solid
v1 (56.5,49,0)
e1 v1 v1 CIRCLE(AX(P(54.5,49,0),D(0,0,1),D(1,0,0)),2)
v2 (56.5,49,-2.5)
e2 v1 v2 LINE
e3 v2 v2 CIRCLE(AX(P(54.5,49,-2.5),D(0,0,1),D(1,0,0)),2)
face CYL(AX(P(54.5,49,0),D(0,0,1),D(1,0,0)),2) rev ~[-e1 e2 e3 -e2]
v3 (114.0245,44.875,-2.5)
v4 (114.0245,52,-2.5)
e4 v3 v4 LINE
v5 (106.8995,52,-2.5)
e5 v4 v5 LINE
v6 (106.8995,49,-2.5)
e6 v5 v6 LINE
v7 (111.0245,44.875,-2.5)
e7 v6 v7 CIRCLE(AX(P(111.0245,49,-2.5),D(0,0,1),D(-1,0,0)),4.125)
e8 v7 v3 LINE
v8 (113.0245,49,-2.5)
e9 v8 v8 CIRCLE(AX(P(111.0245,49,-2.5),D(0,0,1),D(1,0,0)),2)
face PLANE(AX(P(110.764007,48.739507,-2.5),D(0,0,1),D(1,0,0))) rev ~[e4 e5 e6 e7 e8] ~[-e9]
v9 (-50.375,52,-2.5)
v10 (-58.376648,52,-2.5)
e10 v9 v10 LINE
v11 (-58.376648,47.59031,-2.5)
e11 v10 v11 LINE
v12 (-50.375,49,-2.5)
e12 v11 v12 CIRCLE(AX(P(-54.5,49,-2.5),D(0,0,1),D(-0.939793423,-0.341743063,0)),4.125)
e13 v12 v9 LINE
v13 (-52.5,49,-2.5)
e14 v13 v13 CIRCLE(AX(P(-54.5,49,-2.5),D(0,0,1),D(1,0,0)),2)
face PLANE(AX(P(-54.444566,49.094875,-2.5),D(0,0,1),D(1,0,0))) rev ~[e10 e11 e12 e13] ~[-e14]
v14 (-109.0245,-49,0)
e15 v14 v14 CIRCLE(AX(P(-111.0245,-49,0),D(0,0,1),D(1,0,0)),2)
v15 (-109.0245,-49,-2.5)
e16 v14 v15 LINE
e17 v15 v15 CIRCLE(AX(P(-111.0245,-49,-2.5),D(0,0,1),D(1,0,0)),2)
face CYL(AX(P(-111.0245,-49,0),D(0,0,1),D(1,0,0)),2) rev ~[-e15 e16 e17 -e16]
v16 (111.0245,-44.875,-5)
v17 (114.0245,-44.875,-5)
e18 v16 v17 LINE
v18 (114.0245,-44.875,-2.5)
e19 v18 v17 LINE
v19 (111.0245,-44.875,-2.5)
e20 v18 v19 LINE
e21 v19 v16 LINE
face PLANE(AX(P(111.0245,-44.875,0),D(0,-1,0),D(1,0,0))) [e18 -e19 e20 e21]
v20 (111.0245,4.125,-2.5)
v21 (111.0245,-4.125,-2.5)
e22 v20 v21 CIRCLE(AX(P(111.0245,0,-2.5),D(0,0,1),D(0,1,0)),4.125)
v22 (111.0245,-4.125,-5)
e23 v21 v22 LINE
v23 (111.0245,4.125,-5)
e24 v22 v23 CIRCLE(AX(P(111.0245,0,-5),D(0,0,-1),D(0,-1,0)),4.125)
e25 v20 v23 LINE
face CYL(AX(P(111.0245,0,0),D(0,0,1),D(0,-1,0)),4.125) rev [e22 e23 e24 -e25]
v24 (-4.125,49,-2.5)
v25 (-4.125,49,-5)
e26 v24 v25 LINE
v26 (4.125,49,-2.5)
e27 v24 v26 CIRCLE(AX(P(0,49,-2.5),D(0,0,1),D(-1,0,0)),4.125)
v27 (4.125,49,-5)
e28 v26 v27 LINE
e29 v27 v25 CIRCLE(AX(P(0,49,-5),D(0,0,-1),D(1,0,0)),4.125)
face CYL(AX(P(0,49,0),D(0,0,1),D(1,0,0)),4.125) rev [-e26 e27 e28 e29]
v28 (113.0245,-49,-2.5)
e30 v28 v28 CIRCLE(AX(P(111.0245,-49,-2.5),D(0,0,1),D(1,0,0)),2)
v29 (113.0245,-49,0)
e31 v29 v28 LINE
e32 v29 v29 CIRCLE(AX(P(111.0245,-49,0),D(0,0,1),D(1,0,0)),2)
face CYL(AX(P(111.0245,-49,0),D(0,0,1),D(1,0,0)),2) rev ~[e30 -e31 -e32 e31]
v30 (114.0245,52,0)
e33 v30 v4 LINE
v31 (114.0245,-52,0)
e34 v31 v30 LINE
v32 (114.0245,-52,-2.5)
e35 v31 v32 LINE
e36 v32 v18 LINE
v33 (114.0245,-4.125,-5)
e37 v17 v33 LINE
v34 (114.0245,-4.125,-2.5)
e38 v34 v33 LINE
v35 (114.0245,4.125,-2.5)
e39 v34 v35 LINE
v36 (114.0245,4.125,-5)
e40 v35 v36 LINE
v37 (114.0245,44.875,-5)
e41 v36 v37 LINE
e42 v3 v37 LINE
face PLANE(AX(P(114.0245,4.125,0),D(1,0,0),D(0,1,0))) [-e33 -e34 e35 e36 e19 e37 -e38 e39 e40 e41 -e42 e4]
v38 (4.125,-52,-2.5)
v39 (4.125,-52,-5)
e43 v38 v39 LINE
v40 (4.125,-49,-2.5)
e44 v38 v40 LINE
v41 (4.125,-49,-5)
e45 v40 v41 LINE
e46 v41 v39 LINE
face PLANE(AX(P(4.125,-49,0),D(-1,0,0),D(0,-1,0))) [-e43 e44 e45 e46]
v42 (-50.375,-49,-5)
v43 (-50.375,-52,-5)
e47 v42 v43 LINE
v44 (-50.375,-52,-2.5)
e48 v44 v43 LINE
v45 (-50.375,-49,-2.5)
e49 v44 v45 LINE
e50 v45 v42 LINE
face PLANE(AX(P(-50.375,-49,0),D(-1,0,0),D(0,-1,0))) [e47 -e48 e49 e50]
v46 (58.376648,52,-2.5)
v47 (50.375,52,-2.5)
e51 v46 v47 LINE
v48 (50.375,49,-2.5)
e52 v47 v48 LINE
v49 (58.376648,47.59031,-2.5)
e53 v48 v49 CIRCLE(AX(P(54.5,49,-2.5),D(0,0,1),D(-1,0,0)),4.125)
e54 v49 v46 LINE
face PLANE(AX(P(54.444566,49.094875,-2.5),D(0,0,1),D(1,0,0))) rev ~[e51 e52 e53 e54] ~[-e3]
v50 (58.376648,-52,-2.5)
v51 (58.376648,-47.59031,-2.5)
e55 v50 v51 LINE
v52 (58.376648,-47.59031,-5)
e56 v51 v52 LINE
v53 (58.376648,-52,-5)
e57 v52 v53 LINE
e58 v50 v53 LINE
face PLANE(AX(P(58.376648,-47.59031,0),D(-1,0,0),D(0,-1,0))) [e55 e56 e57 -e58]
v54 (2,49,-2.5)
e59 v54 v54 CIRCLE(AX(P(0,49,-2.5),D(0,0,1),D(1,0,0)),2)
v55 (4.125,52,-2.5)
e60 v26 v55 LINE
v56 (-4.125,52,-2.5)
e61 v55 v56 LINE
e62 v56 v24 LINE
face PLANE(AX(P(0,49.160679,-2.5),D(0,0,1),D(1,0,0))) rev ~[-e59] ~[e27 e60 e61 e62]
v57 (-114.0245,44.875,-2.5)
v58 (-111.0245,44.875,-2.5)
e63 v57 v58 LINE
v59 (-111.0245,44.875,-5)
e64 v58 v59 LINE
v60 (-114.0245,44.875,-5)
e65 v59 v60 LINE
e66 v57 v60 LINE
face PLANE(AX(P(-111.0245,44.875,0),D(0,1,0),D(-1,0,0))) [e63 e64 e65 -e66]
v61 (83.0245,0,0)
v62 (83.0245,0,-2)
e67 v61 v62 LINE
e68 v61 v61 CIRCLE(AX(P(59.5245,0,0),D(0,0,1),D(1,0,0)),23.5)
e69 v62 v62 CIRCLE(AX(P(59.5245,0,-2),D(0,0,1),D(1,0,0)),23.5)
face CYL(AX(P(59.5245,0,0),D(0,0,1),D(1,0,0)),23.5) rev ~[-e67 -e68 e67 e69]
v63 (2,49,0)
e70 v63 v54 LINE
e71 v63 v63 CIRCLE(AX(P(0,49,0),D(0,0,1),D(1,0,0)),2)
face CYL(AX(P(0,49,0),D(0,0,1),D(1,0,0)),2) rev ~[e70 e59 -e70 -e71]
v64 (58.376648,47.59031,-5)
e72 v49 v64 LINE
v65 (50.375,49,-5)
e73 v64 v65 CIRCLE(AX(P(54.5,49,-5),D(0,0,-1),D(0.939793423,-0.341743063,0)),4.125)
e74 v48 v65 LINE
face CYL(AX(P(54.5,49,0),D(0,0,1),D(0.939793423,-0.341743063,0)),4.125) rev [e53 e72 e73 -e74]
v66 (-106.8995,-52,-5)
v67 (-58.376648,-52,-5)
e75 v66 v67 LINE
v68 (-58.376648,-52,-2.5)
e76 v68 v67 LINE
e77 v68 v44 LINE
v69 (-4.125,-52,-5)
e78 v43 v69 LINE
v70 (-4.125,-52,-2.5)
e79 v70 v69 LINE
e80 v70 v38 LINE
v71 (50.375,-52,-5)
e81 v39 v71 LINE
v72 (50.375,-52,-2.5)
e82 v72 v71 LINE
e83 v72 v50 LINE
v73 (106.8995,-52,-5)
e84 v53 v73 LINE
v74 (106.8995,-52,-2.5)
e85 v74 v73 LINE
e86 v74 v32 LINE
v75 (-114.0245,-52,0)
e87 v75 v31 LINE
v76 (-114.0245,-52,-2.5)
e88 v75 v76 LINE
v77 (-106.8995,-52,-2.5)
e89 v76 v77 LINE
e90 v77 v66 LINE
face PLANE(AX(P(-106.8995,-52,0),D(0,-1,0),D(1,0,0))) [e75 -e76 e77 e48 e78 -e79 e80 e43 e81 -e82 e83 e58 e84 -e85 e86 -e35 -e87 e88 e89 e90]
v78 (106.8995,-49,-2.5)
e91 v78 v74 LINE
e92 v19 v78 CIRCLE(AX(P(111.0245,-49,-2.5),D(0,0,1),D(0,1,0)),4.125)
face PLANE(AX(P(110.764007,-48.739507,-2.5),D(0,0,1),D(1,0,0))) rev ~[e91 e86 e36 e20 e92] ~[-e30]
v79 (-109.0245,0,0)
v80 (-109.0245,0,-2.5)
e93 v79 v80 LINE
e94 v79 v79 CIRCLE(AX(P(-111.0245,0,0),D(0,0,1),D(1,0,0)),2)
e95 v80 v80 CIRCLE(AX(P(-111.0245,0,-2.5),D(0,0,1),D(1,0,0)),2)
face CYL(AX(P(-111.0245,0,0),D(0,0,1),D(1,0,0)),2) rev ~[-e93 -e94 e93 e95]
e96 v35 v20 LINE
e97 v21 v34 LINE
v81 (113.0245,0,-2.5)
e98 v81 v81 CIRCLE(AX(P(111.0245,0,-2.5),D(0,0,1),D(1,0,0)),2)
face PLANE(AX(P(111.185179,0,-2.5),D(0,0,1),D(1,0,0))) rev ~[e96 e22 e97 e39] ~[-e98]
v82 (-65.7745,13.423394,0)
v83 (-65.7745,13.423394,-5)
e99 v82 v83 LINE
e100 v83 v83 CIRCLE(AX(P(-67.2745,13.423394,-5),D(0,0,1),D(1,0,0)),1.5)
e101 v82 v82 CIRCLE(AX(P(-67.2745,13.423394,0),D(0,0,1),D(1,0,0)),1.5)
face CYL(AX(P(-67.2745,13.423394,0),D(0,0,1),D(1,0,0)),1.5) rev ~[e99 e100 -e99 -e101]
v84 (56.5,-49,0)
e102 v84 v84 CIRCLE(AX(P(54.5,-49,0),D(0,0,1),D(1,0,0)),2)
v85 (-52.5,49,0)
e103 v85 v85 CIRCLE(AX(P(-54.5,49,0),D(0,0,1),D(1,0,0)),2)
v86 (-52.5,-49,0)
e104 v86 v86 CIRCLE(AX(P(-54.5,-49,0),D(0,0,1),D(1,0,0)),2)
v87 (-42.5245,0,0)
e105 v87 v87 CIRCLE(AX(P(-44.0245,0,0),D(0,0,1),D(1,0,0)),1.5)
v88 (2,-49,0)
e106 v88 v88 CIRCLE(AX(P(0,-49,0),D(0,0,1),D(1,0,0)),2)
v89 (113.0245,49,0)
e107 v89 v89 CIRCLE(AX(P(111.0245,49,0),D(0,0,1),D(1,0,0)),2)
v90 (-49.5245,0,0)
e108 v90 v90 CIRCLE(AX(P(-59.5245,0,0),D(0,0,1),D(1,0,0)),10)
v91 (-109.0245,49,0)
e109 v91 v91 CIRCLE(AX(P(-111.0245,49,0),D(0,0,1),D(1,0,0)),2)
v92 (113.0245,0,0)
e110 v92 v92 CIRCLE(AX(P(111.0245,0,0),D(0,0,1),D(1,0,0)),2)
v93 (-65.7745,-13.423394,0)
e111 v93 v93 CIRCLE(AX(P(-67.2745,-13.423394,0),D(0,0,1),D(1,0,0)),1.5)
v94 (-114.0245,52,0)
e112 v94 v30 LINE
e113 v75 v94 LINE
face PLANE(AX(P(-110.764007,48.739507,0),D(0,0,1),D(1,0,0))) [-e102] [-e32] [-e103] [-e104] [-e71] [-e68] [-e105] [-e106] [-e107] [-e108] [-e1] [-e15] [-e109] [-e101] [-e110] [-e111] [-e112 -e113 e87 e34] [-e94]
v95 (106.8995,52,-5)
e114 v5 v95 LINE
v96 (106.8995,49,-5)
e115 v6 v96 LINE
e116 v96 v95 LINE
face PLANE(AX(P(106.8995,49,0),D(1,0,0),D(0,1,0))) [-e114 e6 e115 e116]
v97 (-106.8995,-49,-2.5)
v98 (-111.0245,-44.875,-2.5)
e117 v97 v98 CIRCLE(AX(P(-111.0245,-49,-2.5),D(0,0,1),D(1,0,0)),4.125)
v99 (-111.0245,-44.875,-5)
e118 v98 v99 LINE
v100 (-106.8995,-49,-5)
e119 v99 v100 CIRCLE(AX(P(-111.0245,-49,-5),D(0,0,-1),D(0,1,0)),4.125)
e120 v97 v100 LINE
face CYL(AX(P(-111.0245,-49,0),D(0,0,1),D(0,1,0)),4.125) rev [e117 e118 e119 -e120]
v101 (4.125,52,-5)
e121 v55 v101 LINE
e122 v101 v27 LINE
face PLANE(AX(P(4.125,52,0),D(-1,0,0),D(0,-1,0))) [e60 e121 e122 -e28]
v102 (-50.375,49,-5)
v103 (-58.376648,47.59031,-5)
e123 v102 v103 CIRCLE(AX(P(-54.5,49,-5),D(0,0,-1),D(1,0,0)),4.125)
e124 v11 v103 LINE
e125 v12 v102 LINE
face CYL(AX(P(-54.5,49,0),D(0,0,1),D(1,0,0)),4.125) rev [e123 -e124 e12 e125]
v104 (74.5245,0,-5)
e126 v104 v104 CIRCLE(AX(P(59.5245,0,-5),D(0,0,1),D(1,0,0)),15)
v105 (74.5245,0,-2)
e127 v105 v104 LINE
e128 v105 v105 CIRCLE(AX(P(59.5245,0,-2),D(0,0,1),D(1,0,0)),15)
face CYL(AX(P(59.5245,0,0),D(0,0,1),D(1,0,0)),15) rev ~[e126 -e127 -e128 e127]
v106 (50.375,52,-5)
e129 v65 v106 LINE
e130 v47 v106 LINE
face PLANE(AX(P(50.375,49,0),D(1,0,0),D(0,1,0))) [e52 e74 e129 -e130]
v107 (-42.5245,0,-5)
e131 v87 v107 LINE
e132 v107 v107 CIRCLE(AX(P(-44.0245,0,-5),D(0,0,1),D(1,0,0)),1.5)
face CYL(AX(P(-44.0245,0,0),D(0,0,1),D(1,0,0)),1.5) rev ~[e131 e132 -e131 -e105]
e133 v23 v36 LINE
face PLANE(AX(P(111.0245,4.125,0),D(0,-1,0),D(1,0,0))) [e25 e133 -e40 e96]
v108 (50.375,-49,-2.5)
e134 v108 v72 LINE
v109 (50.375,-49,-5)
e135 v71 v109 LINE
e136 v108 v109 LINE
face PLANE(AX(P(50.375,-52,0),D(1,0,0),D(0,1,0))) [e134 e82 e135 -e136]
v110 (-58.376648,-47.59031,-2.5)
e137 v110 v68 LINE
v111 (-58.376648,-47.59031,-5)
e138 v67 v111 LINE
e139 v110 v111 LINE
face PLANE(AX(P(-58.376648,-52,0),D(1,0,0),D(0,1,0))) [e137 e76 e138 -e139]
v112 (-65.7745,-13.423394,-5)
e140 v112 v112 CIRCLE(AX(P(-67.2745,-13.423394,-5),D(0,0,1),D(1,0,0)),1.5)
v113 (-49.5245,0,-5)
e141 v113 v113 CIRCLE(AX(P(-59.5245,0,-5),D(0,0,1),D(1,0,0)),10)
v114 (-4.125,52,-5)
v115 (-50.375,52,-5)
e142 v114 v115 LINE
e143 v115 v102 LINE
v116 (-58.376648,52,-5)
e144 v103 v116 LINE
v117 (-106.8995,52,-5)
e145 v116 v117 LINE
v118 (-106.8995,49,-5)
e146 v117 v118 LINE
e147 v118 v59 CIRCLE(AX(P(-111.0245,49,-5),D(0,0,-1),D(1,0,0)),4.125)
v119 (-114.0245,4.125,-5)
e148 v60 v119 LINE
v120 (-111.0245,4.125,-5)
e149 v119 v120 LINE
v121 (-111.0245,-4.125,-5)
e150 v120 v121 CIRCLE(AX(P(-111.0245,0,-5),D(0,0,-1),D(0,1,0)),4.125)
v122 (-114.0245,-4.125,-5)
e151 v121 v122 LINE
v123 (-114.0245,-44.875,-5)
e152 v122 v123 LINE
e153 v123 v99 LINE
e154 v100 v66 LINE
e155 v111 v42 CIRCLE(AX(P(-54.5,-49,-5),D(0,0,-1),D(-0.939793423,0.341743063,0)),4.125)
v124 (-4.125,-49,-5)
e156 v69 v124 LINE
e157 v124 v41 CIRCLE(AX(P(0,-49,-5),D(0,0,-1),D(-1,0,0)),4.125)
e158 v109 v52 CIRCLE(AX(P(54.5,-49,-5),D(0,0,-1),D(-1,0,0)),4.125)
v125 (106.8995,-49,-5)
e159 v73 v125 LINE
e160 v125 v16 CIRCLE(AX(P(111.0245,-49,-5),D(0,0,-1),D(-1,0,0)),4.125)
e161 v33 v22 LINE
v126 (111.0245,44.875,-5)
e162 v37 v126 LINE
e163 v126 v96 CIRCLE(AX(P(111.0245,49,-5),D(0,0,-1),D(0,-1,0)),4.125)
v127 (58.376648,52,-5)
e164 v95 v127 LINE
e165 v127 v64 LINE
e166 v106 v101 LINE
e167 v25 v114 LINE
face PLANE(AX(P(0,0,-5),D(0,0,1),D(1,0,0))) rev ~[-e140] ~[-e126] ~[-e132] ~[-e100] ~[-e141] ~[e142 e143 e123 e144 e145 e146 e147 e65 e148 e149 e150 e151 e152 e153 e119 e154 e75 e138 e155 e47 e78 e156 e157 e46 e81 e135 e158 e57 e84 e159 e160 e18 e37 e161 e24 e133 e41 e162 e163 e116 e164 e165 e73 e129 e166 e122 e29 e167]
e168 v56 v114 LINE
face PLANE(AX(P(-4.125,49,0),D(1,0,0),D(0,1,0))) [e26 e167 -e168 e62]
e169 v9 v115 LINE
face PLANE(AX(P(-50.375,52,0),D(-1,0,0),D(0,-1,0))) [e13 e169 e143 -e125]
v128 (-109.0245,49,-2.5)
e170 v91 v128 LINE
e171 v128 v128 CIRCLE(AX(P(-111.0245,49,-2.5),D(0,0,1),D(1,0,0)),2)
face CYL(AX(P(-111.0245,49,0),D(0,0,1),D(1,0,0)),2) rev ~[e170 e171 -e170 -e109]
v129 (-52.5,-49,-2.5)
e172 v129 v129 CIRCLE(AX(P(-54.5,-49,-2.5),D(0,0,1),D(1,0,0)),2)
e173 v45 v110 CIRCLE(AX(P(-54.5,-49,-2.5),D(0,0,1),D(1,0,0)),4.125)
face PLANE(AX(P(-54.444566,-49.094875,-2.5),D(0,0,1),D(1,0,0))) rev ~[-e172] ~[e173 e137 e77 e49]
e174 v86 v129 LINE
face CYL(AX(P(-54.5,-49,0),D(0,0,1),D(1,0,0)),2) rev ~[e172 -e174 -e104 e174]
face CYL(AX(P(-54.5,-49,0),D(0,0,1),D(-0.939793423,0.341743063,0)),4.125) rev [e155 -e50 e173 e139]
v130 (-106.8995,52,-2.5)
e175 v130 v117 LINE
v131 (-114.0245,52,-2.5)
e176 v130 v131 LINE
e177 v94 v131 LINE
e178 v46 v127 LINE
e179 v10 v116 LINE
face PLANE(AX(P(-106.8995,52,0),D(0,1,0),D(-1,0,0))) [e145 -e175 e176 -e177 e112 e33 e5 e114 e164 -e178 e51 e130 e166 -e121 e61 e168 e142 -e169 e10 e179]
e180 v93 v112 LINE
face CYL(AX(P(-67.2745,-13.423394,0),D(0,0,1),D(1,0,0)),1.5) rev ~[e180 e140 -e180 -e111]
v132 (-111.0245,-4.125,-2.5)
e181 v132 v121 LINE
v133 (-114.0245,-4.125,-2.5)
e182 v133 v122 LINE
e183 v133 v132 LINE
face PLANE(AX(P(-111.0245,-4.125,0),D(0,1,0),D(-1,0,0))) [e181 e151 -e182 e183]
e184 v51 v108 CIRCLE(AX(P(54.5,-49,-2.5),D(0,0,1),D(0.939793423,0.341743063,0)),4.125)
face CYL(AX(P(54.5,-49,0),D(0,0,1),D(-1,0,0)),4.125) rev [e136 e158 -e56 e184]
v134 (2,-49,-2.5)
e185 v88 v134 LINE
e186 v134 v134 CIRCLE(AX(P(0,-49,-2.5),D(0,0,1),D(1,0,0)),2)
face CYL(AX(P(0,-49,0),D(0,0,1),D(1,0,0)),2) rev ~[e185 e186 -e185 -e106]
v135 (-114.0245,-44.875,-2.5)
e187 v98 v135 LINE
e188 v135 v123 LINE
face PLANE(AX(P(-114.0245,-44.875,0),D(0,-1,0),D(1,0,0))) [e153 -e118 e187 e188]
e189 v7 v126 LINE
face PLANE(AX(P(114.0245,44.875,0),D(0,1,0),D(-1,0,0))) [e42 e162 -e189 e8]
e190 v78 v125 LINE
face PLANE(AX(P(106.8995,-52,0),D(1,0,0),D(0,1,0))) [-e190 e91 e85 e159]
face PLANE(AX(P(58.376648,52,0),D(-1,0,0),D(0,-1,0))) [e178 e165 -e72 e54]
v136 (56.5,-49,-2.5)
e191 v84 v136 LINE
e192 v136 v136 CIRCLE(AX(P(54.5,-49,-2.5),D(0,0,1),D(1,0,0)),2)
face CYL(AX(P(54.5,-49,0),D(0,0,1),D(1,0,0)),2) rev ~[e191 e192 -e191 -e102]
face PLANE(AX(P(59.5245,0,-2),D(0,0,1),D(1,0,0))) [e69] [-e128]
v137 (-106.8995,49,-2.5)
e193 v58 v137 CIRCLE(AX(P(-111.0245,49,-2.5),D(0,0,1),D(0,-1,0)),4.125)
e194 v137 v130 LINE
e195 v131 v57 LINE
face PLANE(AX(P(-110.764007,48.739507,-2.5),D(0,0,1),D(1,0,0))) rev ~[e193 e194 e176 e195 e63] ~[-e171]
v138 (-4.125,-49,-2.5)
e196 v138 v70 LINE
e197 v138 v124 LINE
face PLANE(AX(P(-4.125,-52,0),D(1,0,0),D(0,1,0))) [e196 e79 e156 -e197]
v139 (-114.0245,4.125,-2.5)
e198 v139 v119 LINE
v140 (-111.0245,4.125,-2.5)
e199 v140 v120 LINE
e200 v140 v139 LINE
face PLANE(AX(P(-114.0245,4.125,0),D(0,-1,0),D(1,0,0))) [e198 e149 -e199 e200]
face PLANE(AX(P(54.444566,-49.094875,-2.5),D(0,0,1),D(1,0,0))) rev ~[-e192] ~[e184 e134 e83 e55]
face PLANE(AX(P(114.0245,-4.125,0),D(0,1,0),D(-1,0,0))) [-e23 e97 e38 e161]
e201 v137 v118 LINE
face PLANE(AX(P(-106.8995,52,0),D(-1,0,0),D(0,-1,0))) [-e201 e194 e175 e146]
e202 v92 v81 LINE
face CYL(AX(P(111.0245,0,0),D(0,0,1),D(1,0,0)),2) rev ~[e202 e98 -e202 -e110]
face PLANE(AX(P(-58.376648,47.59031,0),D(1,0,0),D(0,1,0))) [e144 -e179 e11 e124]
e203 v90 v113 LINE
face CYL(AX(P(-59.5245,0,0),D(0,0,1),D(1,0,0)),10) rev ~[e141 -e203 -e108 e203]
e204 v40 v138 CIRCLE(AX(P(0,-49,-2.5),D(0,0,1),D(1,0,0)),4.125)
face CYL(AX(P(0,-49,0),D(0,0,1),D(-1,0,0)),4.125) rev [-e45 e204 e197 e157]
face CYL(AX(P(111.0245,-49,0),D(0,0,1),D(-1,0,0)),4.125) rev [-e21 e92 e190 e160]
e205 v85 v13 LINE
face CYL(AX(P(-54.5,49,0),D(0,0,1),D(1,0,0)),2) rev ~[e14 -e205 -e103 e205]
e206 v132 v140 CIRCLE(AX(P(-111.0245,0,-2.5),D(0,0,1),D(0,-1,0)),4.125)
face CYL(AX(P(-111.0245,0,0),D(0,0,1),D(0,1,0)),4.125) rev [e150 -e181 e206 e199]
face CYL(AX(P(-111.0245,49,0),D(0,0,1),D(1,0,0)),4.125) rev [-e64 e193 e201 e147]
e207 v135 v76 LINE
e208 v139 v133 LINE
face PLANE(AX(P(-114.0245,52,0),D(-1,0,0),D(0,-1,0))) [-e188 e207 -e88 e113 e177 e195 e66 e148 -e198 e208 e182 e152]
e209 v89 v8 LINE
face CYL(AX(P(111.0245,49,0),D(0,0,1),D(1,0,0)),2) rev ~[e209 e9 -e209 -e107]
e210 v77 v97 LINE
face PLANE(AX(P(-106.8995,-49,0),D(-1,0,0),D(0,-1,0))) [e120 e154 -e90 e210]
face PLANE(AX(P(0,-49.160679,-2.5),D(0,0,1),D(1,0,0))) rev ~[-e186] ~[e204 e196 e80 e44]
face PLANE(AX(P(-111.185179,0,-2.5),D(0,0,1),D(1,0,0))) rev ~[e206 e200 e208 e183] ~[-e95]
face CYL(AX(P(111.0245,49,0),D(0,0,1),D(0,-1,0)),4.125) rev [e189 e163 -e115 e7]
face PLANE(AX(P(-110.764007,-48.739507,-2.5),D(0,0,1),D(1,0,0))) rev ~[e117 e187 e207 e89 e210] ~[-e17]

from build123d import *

# Parameters (mm, degrees)
F0_R     = 1.5
F0_R_2   = 13.65
F0_R_3   = 23.5
F0_R_4   = 15
F0_R_5   = 10
F1_DEPTH = 5
F2_DEPTH = 2
F0_R_6   = 2
F3_DEPTH = 2.5


with BuildPart() as f1:
    # F0 (on Top) → F1 (new body)
    with BuildSketch(Plane.XY):
        with BuildLine():
            Line((-58.3766478719, 52), (-106.8995, 52))
            Line((-106.8995, 52), (-106.8995, 49))
            ThreePointArc((-106.8995, 49), (-108.1076845276, 46.0831845276), (-111.0245, 44.875))
            Line((-111.0245, 44.875), (-114.0245, 44.875))
            Line((-114.0245, 44.875), (-114.0245, 4.125))
            Line((-114.0245, 4.125), (-111.0245, 4.125))
            ThreePointArc((-111.0245, 4.125), (-106.8995, 0), (-111.0245, -4.125))
            Line((-111.0245, -4.125), (-114.0245, -4.125))
            Line((-114.0245, -4.125), (-114.0245, -44.875))
            Line((-114.0245, -44.875), (-111.0245, -44.875))
            ThreePointArc((-111.0245, -44.875), (-108.1076845276, -46.0831845276), (-106.8995, -49))
            Line((-106.8995, -49), (-106.8995, -52))
            Line((-106.8995, -52), (-58.3766478719, -52))
            Line((-58.3766478719, -52), (-58.3766478719, -47.5903098648))
            ThreePointArc((-58.3766478719, -47.5903098648), (-53.7843001577, -44.9375624638), (-50.375, -49))
            Line((-50.375, -49), (-50.375, -52))
            Line((-50.375, -52), (-4.125, -52))
            Line((-4.125, -52), (-4.125, -49))
            ThreePointArc((-4.125, -49), (0, -44.875), (4.125, -49))
            Line((4.125, -49), (4.125, -52))
            Line((4.125, -52), (50.375, -52))
            Line((50.375, -52), (50.375, -49))
            ThreePointArc((50.375, -49), (53.7843001577, -44.9375624638), (58.3766478719, -47.5903098648))
            Line((58.3766478719, -47.5903098648), (58.3766478719, -52))
            Line((58.3766478719, -52), (106.8995, -52))
            Line((106.8995, -52), (106.8995, -49))
            ThreePointArc((106.8995, -49), (108.1076845276, -46.0831845276), (111.0245, -44.875))
            Line((111.0245, -44.875), (114.0245, -44.875))
            Line((114.0245, -44.875), (114.0245, -4.125))
            Line((114.0245, -4.125), (111.0245, -4.125))
            ThreePointArc((111.0245, -4.125), (106.8995, 0), (111.0245, 4.125))
            Line((111.0245, 4.125), (114.0245, 4.125))
            Line((114.0245, 4.125), (114.0245, 44.875))
            Line((114.0245, 44.875), (111.0245, 44.875))
            ThreePointArc((111.0245, 44.875), (108.1076845276, 46.0831845276), (106.8995, 49))
            Line((106.8995, 49), (106.8995, 52))
            Line((106.8995, 52), (58.3766478719, 52))
            Line((58.3766478719, 52), (58.3766478719, 47.5903098648))
            ThreePointArc((58.3766478719, 47.5903098648), (53.7843001577, 44.9375624638), (50.375, 49))
            Line((50.375, 49), (50.375, 52))
            Line((50.375, 52), (4.125, 52))
            Line((4.125, 52), (4.125, 49))
            ThreePointArc((4.125, 49), (0, 44.875), (-4.125, 49))
            Line((-4.125, 49), (-4.125, 52))
            Line((-4.125, 52), (-50.375, 52))
            Line((-50.375, 52), (-50.375, 49))
            ThreePointArc((-50.375, 49), (-53.7843001577, 44.9375624638), (-58.3766478719, 47.5903098648))
            Line((-58.3766478719, 47.5903098648), (-58.3766478719, 52))
        make_face()
        with Locations((-67.2745, -13.4233937587)):
            Circle(F0_R, mode=Mode.SUBTRACT)
        with Locations((-59.5245, 0)):
            Circle(F0_R_2, mode=Mode.SUBTRACT)
        with Locations((-67.2745, 13.4233937587)):
            Circle(F0_R, mode=Mode.SUBTRACT)
        with Locations((-44.0245, 0)):
            Circle(F0_R, mode=Mode.SUBTRACT)
        with Locations((59.5245, 0)):
            Circle(F0_R_3, mode=Mode.SUBTRACT)
        with Locations((59.5245, 0)):
            Circle(F0_R_3)
        with Locations((59.5245, 0)):
            Circle(F0_R_4, mode=Mode.SUBTRACT)
        with Locations((-59.5245, 0)):
            Circle(F0_R_2)
        with Locations((-59.5245, 0)):
            Circle(F0_R_5, mode=Mode.SUBTRACT)
    extrude(amount=-F1_DEPTH)

    # F0 (on Top) → F2 (cut)
    with BuildSketch(Plane.XY):
        with Locations((59.5245, 0)):
            Circle(F0_R_3)
        with Locations((59.5245, 0)):
            Circle(F0_R_4, mode=Mode.SUBTRACT)
    extrude(amount=-F2_DEPTH, mode=Mode.SUBTRACT)

    # F0 (on Top) → F3 (join)
    with BuildSketch(Plane.XY):
        with BuildLine():
            Line((-106.8995, 52), (-114.0245, 52))
            Line((-114.0245, 52), (-114.0245, 44.875))
            Line((-114.0245, 44.875), (-111.0245, 44.875))
            ThreePointArc((-111.0245, 44.875), (-108.1076845276, 46.0831845276), (-106.8995, 49))
            Line((-106.8995, 49), (-106.8995, 52))
        make_face()
        with Locations((-111.0245, 49)):
            Circle(F0_R_6, mode=Mode.SUBTRACT)
        with BuildLine():
            Line((-111.0245, 4.125), (-114.0245, 4.125))
            Line((-114.0245, 4.125), (-114.0245, -4.125))
            Line((-114.0245, -4.125), (-111.0245, -4.125))
            ThreePointArc((-111.0245, -4.125), (-106.8995, 0), (-111.0245, 4.125))
        make_face()
        with Locations((-111.0245, 0)):
            Circle(F0_R_6, mode=Mode.SUBTRACT)
        with BuildLine():
            Line((-111.0245, -44.875), (-114.0245, -44.875))
            Line((-114.0245, -44.875), (-114.0245, -52))
            Line((-114.0245, -52), (-106.8995, -52))
            Line((-106.8995, -52), (-106.8995, -49))
            ThreePointArc((-106.8995, -49), (-108.1076845276, -46.0831845276), (-111.0245, -44.875))
        make_face()
        with Locations((-111.0245, -49)):
            Circle(F0_R_6, mode=Mode.SUBTRACT)
        with BuildLine():
            Line((-58.3766478719, -47.5903098648), (-58.3766478719, -52))
            Line((-58.3766478719, -52), (-50.375, -52))
            Line((-50.375, -52), (-50.375, -49))
            ThreePointArc((-50.375, -49), (-53.7843001577, -44.9375624638), (-58.3766478719, -47.5903098648))
        make_face()
        with Locations((-54.5, -49)):
            Circle(F0_R_6, mode=Mode.SUBTRACT)
        with BuildLine():
            Line((-4.125, -49), (-4.125, -52))
            Line((-4.125, -52), (4.125, -52))
            Line((4.125, -52), (4.125, -49))
            ThreePointArc((4.125, -49), (0, -44.875), (-4.125, -49))
        make_face()
        with Locations((0, -49)):
            Circle(F0_R_6, mode=Mode.SUBTRACT)
        with BuildLine():
            Line((50.375, -49), (50.375, -52))
            Line((50.375, -52), (58.3766478719, -52))
            Line((58.3766478719, -52), (58.3766478719, -47.5903098648))
            ThreePointArc((58.3766478719, -47.5903098648), (53.7843001577, -44.9375624638), (50.375, -49))
        make_face()
        with Locations((54.5, -49)):
            Circle(F0_R_6, mode=Mode.SUBTRACT)
        with BuildLine():
            Line((114.0245, -52), (114.0245, -44.875))
            Line((114.0245, -44.875), (111.0245, -44.875))
            ThreePointArc((111.0245, -44.875), (108.1076845276, -46.0831845276), (106.8995, -49))
            Line((106.8995, -49), (106.8995, -52))
            Line((106.8995, -52), (114.0245, -52))
        make_face()
        with Locations((111.0245, -49)):
            Circle(F0_R_6, mode=Mode.SUBTRACT)
        with BuildLine():
            Line((114.0245, -4.125), (114.0245, 4.125))
            Line((114.0245, 4.125), (111.0245, 4.125))
            ThreePointArc((111.0245, 4.125), (106.8995, 0), (111.0245, -4.125))
            Line((111.0245, -4.125), (114.0245, -4.125))
        make_face()
        with Locations((111.0245, 0)):
            Circle(F0_R_6, mode=Mode.SUBTRACT)
        with BuildLine():
            Line((114.0245, 52), (106.8995, 52))
            Line((106.8995, 52), (106.8995, 49))
            ThreePointArc((106.8995, 49), (108.1076845276, 46.0831845276), (111.0245, 44.875))
            Line((111.0245, 44.875), (114.0245, 44.875))
            Line((114.0245, 44.875), (114.0245, 52))
        make_face()
        with Locations((111.0245, 49)):
            Circle(F0_R_6, mode=Mode.SUBTRACT)
        with BuildLine():
            Line((58.3766478719, 52), (50.375, 52))
            Line((50.375, 52), (50.375, 49))
            ThreePointArc((50.375, 49), (53.7843001577, 44.9375624638), (58.3766478719, 47.5903098648))
            Line((58.3766478719, 47.5903098648), (58.3766478719, 52))
        make_face()
        with Locations((54.5, 49)):
            Circle(F0_R_6, mode=Mode.SUBTRACT)
        with BuildLine():
            Line((4.125, 52), (-4.125, 52))
            Line((-4.125, 52), (-4.125, 49))
            ThreePointArc((-4.125, 49), (0, 44.875), (4.125, 49))
            Line((4.125, 49), (4.125, 52))
        make_face()
        with Locations((0, 49)):
            Circle(F0_R_6, mode=Mode.SUBTRACT)
        with BuildLine():
            Line((-50.375, 52), (-58.3766478719, 52))
            Line((-58.3766478719, 52), (-58.3766478719, 47.5903098648))
            ThreePointArc((-58.3766478719, 47.5903098648), (-53.7843001577, 44.9375624638), (-50.375, 49))
            Line((-50.375, 49), (-50.375, 52))
        make_face()
        with Locations((-54.5, 49)):
            Circle(F0_R_6, mode=Mode.SUBTRACT)
    extrude(amount=-F3_DEPTH)


solid = f1.part
